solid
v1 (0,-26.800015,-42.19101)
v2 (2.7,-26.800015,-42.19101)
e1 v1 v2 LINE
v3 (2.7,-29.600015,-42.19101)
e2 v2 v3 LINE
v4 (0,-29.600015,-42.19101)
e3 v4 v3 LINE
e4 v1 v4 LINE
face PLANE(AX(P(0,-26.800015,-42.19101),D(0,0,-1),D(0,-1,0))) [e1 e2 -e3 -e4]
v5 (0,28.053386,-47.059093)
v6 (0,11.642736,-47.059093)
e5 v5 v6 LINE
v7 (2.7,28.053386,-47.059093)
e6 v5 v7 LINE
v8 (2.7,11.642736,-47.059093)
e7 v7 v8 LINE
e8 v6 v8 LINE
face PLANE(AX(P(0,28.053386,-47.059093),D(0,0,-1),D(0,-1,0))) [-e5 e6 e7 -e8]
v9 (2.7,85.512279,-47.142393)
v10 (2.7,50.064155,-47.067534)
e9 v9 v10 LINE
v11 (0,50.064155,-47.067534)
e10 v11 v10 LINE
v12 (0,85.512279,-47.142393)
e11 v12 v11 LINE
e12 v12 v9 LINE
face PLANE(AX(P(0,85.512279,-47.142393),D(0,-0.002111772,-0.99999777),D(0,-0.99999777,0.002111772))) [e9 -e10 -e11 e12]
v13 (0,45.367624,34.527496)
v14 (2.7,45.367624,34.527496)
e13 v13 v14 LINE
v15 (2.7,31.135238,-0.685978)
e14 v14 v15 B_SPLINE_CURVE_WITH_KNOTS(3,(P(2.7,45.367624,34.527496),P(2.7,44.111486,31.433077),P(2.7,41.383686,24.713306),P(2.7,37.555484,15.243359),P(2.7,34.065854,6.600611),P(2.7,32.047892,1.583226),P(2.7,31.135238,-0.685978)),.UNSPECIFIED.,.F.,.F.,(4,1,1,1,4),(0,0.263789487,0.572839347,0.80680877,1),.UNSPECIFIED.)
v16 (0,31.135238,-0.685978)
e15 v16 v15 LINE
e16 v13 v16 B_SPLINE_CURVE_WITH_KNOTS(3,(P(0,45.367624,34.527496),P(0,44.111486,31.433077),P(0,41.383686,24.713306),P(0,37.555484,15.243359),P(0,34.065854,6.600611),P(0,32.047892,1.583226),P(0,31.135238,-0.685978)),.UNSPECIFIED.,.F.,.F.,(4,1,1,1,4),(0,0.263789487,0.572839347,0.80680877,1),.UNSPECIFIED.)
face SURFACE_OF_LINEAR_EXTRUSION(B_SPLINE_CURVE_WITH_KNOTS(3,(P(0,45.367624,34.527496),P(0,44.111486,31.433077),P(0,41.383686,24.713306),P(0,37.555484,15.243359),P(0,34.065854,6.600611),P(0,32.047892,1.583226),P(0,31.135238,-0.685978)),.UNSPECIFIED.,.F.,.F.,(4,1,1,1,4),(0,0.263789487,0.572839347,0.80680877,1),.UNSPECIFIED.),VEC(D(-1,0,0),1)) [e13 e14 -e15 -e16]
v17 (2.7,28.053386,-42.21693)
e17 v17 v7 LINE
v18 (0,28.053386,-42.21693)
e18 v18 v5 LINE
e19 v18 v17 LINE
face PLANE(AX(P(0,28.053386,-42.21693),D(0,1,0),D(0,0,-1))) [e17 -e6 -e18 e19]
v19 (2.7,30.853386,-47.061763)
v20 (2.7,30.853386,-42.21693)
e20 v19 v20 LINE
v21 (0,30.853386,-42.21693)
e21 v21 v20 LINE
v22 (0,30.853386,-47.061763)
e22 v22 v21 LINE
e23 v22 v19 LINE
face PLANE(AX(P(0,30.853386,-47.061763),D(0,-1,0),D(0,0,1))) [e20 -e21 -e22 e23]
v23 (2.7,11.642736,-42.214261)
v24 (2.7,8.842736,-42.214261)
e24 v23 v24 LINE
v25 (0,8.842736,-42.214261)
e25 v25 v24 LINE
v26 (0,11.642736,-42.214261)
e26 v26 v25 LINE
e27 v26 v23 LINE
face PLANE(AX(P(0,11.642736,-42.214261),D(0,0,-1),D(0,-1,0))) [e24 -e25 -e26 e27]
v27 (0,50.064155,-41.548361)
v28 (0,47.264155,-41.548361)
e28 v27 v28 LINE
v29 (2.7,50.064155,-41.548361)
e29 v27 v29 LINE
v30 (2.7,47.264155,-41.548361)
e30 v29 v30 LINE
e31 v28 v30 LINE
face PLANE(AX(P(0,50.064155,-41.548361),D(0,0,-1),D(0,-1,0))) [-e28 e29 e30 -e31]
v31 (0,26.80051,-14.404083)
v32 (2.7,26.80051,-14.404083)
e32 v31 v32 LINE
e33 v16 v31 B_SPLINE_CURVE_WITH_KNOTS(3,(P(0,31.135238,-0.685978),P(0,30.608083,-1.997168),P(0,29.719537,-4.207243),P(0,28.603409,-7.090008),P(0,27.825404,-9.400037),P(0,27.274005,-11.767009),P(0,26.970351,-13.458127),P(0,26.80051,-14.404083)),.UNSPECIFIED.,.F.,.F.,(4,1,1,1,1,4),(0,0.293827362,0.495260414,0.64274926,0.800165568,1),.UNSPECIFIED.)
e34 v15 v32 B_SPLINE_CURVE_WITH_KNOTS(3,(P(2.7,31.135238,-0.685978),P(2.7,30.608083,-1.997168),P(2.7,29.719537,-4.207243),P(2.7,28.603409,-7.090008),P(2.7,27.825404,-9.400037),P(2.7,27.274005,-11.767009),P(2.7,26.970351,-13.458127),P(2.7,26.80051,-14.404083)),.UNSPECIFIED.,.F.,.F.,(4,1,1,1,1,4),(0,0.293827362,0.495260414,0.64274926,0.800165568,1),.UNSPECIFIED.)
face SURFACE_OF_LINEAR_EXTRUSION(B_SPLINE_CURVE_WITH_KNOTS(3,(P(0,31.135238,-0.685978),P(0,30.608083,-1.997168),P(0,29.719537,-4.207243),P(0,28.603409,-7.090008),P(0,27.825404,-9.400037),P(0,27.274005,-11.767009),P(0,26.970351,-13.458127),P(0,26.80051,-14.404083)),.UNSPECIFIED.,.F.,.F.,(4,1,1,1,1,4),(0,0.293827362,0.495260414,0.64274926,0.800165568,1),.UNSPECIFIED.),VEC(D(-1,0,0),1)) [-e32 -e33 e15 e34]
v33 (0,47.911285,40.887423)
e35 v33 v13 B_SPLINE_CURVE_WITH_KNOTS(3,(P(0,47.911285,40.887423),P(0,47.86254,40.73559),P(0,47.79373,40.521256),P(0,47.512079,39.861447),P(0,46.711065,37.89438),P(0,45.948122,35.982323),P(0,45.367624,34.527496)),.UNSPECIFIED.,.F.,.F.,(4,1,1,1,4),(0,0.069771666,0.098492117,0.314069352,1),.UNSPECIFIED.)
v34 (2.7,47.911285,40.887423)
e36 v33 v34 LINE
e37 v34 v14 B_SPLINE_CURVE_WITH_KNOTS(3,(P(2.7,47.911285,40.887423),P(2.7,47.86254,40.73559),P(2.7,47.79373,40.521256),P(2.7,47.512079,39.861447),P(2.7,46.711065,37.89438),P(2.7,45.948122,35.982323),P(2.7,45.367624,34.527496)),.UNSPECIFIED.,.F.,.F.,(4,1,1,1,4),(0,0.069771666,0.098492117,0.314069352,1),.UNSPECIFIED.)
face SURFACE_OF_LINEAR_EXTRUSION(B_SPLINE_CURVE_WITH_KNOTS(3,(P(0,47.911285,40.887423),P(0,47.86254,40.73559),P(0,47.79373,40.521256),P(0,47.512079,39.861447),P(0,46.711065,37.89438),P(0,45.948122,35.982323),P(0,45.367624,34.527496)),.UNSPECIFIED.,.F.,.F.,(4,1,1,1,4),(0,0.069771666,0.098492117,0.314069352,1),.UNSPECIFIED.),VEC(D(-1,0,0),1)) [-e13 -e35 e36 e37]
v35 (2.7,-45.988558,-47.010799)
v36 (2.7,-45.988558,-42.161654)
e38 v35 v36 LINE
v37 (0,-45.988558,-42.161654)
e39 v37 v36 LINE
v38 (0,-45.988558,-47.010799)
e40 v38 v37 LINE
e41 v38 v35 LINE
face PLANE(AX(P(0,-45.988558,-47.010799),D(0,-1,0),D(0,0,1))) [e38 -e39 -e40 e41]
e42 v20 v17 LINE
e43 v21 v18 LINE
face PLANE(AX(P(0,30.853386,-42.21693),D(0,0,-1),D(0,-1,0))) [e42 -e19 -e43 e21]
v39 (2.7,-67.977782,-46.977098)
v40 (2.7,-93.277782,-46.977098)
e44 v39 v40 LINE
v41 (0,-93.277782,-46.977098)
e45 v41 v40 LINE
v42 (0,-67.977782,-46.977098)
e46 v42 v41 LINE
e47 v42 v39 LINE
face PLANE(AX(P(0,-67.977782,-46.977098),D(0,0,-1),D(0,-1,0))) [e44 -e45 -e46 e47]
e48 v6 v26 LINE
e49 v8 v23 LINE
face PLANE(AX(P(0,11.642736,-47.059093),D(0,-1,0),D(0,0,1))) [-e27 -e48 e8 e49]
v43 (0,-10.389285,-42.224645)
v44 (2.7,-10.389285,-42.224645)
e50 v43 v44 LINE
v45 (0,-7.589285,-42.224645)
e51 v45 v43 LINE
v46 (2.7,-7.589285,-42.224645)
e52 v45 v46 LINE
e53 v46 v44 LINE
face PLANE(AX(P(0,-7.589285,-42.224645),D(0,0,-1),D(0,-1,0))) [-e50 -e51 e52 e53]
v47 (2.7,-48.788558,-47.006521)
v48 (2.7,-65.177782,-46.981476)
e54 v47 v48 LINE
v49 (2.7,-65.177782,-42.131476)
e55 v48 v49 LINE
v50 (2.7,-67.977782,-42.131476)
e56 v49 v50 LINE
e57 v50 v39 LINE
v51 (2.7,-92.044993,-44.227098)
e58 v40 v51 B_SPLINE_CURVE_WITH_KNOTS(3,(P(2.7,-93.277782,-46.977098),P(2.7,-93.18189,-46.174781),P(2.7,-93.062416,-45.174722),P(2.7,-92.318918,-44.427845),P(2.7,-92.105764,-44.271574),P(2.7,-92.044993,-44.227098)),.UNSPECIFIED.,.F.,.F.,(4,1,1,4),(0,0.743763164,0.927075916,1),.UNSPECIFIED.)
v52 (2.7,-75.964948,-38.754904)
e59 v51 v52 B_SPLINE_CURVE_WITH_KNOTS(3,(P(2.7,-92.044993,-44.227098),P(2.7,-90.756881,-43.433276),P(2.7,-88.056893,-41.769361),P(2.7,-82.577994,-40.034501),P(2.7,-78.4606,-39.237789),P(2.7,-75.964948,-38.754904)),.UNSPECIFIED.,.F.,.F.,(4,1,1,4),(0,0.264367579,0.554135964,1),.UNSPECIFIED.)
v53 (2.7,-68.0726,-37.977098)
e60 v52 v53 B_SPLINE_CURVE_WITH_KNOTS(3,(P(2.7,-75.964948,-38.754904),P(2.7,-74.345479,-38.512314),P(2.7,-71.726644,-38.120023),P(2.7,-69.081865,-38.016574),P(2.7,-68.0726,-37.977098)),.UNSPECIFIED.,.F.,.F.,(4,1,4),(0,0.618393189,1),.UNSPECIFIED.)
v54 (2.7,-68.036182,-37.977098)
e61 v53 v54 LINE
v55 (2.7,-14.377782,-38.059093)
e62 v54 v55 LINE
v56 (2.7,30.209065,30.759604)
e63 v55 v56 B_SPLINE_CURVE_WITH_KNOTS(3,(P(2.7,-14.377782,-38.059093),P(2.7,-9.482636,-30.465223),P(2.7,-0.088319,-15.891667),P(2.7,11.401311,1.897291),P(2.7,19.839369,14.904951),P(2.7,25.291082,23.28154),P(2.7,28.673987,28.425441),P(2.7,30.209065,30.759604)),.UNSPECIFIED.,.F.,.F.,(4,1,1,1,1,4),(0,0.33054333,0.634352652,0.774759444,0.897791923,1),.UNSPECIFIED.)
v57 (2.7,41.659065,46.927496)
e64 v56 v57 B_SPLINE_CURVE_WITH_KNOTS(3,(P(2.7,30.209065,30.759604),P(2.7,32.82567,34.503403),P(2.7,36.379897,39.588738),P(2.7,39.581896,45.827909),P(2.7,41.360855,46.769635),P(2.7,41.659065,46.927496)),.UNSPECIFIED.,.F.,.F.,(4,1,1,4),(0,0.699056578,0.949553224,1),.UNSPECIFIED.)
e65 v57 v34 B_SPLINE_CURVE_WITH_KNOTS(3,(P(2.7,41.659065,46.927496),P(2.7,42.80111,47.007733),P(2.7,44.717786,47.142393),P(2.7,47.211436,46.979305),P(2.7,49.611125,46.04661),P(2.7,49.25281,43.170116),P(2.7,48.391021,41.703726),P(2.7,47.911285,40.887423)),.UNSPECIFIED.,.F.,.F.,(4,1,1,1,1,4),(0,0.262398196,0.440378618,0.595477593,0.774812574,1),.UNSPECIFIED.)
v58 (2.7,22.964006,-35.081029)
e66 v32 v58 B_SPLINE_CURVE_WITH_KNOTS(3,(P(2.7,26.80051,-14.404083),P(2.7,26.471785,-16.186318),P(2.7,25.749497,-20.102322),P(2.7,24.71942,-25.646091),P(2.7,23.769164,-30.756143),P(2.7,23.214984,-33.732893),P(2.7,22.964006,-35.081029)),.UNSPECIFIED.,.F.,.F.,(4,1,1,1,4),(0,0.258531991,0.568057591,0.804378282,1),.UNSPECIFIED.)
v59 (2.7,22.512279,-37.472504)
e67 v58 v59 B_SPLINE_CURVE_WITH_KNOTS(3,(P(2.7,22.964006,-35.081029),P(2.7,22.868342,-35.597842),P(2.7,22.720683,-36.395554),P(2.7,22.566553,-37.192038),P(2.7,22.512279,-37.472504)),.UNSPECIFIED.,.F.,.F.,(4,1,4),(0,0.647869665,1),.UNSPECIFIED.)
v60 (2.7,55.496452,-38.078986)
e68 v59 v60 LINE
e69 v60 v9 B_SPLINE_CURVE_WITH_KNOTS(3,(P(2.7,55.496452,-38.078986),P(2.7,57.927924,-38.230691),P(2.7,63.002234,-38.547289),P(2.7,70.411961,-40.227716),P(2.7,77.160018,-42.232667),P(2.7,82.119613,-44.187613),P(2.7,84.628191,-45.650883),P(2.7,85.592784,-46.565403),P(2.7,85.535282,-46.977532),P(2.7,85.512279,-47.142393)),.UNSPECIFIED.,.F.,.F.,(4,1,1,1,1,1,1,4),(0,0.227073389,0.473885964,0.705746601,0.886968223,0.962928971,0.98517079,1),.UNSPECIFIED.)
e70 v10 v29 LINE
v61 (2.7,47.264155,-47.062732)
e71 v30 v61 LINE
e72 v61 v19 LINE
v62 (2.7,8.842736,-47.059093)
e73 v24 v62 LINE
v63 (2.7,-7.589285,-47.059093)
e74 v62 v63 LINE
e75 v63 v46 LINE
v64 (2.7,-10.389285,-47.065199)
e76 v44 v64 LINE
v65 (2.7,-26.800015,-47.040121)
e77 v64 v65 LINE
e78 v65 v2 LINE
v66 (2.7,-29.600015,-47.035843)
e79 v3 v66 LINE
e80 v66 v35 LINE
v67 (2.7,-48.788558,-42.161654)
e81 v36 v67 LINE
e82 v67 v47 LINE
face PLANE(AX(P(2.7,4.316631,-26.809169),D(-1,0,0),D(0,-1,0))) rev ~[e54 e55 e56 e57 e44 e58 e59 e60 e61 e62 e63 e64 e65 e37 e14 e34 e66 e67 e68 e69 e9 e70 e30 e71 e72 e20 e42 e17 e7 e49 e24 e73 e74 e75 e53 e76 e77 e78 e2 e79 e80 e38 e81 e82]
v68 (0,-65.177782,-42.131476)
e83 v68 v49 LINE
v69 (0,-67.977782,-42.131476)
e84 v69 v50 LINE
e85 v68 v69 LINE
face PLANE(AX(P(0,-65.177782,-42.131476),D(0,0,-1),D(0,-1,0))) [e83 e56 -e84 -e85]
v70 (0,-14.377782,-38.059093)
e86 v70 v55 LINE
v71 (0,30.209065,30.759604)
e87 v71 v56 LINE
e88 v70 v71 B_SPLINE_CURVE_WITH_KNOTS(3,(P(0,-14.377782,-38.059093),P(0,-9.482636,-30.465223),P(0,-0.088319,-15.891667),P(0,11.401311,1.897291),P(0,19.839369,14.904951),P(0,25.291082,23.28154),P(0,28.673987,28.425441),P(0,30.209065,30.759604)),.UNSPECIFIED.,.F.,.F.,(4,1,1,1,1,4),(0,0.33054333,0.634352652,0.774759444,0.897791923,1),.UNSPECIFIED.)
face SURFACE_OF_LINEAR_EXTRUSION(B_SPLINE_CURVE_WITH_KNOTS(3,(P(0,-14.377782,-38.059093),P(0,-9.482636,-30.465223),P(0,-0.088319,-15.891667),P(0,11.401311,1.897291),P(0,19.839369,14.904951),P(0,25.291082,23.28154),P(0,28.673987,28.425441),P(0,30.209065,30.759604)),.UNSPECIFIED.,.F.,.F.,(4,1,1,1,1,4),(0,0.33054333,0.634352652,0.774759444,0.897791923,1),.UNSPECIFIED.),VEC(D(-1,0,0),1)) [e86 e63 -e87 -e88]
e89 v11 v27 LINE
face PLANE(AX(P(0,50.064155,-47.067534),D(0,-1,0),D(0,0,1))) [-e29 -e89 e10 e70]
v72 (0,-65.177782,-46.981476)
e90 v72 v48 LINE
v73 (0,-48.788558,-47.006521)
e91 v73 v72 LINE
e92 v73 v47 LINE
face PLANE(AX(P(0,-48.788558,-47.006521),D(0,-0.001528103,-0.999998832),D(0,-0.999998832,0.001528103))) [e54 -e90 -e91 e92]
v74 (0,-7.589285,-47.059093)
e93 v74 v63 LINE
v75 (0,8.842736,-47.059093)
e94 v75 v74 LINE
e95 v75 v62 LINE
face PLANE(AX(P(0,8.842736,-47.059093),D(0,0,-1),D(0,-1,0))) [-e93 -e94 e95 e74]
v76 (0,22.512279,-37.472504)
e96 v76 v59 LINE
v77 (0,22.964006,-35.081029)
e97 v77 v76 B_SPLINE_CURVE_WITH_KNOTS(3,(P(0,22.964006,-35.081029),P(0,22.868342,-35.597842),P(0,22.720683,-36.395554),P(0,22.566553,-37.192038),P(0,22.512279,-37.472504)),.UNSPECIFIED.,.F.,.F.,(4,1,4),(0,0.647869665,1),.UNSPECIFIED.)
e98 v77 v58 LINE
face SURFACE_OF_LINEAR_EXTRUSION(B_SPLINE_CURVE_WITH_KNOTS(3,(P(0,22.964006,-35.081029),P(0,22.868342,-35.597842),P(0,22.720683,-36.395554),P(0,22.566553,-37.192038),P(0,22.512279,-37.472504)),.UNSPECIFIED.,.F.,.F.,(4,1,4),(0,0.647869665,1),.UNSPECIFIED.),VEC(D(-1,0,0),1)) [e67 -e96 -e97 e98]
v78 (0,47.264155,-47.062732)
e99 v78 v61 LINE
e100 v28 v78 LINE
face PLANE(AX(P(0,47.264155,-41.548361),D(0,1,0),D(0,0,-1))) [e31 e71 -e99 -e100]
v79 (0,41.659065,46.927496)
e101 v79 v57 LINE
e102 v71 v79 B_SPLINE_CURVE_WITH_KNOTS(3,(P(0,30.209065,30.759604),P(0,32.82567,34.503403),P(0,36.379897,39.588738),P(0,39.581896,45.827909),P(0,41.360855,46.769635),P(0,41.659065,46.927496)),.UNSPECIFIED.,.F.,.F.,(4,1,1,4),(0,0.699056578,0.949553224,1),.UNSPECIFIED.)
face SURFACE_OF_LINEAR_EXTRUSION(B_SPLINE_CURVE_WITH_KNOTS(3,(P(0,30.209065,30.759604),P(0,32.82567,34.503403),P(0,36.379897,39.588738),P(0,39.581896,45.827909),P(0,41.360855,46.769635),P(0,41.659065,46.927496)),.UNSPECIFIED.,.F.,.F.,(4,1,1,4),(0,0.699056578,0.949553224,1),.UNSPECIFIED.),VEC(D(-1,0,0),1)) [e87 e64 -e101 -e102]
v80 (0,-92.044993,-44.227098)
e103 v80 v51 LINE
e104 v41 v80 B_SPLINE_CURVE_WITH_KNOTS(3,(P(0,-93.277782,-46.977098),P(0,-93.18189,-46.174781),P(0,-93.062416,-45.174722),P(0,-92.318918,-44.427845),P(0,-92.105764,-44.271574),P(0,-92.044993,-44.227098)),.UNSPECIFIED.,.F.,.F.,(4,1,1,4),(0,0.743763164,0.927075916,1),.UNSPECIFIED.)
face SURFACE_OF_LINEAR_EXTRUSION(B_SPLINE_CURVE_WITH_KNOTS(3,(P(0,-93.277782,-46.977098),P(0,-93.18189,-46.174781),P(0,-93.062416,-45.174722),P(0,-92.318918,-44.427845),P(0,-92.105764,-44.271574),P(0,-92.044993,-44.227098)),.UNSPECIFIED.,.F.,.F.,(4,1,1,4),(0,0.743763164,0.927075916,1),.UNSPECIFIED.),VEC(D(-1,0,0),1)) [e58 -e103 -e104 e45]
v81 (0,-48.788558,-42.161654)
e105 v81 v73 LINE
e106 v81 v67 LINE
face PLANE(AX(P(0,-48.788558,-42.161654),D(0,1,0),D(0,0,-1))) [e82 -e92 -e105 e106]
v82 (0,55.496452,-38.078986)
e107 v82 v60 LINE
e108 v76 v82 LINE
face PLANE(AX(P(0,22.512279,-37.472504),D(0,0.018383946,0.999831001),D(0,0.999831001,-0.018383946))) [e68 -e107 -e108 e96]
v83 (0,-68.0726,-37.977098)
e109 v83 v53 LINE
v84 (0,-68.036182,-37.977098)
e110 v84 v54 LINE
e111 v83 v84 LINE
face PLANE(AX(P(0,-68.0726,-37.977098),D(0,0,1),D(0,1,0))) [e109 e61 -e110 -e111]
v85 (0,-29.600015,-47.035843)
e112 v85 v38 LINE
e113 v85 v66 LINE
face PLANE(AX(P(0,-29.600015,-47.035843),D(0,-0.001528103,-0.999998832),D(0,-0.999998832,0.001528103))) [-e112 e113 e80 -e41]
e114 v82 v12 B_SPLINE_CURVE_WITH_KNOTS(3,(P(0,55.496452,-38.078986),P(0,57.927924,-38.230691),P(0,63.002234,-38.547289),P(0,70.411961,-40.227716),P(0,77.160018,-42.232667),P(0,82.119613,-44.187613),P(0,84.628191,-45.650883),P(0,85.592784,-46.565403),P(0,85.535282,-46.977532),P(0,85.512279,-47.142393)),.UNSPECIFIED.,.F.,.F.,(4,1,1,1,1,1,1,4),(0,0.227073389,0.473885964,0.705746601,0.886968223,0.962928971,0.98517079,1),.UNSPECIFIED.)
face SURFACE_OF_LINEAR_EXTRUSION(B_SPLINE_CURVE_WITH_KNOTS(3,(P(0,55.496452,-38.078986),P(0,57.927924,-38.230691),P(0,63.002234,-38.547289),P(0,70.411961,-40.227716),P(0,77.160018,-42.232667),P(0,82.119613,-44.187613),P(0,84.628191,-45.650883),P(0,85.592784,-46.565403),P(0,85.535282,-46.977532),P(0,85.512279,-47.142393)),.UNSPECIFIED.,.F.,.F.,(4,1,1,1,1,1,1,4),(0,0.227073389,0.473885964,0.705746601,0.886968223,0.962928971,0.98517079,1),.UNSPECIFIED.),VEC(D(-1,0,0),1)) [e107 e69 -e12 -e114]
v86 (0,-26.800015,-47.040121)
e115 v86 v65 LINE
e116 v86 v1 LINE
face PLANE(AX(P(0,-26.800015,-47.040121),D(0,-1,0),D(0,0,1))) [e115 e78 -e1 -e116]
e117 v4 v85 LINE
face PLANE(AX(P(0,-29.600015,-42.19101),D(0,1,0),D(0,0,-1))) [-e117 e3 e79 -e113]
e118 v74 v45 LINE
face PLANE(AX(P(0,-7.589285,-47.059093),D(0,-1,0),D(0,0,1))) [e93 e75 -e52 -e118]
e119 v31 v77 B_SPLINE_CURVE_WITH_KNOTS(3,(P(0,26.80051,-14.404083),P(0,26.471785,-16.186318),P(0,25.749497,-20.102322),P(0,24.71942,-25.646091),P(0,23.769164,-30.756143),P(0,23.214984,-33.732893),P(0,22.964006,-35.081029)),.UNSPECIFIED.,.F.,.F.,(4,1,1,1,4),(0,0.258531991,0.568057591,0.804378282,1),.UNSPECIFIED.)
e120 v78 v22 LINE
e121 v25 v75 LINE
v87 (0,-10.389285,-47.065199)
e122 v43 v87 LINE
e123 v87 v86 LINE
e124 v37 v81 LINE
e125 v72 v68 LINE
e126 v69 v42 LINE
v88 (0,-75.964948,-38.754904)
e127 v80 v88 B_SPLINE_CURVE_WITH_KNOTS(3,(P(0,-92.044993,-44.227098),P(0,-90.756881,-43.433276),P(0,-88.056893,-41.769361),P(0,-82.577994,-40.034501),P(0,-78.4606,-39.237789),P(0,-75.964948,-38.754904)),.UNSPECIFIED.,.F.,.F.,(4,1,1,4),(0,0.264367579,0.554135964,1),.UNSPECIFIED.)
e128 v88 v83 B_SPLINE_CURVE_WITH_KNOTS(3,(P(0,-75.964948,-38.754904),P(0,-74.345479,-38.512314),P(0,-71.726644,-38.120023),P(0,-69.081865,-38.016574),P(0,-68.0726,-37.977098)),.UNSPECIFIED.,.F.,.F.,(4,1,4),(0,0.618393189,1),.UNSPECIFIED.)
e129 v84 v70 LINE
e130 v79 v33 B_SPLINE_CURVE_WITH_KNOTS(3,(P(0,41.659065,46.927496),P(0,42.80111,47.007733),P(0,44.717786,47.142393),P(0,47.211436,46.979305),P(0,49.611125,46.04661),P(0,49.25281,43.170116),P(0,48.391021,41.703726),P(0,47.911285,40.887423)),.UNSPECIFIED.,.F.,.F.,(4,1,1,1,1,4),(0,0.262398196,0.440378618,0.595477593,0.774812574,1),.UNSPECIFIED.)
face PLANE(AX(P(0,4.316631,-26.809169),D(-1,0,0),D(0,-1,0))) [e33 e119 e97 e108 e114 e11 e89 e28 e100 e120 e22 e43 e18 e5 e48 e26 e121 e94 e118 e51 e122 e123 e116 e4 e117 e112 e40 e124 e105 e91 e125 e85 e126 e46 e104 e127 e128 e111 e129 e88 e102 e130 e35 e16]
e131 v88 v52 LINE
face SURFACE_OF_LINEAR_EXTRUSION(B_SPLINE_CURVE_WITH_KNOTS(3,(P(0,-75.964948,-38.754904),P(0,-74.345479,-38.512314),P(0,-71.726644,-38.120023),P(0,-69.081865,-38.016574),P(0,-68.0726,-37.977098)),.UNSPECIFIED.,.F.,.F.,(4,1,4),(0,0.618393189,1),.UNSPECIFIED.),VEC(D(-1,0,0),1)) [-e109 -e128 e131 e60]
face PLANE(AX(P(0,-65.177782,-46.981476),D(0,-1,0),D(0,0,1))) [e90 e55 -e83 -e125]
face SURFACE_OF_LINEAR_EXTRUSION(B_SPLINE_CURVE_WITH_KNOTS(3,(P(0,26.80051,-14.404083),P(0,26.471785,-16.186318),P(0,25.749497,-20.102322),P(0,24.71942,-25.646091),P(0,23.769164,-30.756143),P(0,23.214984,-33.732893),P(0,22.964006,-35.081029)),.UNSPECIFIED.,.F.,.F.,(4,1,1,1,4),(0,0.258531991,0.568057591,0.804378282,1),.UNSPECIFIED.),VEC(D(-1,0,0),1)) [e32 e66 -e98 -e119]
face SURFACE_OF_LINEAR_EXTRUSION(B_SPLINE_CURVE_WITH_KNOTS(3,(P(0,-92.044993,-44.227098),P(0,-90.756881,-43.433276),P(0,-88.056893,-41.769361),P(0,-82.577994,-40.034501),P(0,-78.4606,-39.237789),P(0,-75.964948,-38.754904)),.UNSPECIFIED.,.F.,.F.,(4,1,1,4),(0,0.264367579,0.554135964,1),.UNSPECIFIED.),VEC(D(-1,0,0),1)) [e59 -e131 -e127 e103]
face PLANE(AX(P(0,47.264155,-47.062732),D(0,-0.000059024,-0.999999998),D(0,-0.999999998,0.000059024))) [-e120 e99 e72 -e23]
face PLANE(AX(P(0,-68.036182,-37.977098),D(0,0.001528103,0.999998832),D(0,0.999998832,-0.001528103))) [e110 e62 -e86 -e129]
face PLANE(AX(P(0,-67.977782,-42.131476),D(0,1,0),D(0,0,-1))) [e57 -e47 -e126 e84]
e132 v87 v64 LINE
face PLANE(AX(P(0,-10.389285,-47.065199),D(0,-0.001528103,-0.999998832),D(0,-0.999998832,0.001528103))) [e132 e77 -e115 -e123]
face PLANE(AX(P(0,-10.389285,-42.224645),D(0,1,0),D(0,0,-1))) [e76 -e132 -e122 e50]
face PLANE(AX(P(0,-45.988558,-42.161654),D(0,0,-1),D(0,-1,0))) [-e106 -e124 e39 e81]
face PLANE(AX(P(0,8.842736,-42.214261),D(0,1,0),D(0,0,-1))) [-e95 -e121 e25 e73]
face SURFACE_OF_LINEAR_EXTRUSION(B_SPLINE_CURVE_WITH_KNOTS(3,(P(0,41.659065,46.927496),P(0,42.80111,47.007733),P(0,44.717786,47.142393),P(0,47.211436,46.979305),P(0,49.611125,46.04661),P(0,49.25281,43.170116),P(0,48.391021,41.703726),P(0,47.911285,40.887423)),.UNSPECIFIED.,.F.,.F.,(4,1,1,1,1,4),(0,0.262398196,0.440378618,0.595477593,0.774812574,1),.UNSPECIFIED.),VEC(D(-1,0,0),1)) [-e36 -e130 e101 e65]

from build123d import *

# Parameters (mm, degrees)
SALIENTE_EXTRUIR1_DEPTH = 2.7


with BuildPart() as part:
    # Croquis1 → Saliente-Extruir1 (new body)
    with BuildSketch(Plane.YZ):
        with BuildLine():
            Line((50.064155465, -47.067534137), (50.064155465, -41.548360968))
            Line((50.064155465, -41.548360968), (47.264155465, -41.548360968))
            Line((47.264155465, -41.548360968), (47.264155465, -47.062731671))
            Line((47.264155465, -47.062731671), (30.853386223, -47.061763035))
            Line((30.853386223, -47.061763035), (30.853386223, -42.21693048))
            Line((30.853386223, -42.21693048), (28.053386223, -42.21693048))
            Line((28.053386223, -42.21693048), (28.053386223, -47.059093276))
            Line((28.053386223, -47.059093276), (11.642735672, -47.059093276))
            Line((11.642735672, -47.059093276), (11.642735672, -42.214260722))
            Line((11.642735672, -42.214260722), (8.842735672, -42.214260722))
            Line((8.842735672, -42.214260722), (8.842735672, -47.059093276))
            Line((8.842735672, -47.059093276), (-7.589284622, -47.059093276))
            Line((-7.589284622, -47.059093276), (-7.589284622, -42.224644755))
            Line((-7.589284622, -42.224644755), (-10.389284622, -42.224644755))
            Line((-10.389284622, -42.224644755), (-10.389284622, -47.065198628))
            Line((-10.389284622, -47.065198628), (-26.800014758, -47.040121306))
            Line((-26.800014758, -47.040121306), (-26.800014758, -42.191010057))
            Line((-26.800014758, -42.191010057), (-29.600014758, -42.191010057))
            Line((-29.600014758, -42.191010057), (-29.600014758, -47.035842611))
            Line((-29.600014758, -47.035842611), (-45.988557712, -47.010799194))
            Line((-45.988557712, -47.010799194), (-45.988557712, -42.161654196))
            Line((-45.988557712, -42.161654196), (-48.788557712, -42.161654196))
            Line((-48.788557712, -42.161654196), (-48.788557712, -47.0065205))
            Line((-48.788557712, -47.0065205), (-65.177781836, -46.981476041))
            Line((-65.177781836, -46.981476041), (-65.177781836, -42.131476041))
            Line((-65.177781836, -42.131476041), (-67.977781836, -42.131476041))
            Line((-67.977781836, -42.131476041), (-67.977781836, -46.977097597))
            Line((-67.977781836, -46.977097597), (-93.277781836, -46.977097597))
            add(Edge.make_bspline(
                [(-93.277781836, -46.977097597), (-93.18189011, -46.174781474), (-93.062415858, -45.1747221), (-92.318917636, -44.427844981), (-92.105764404, -44.271573649), (-92.0449928, -44.227097597)],
                knots=[0, 0, 0, 0, 0.743763164, 0.927075916, 1, 1, 1, 1], degree=3))
            add(Edge.make_bspline(
                [(-92.0449928, -44.227097597), (-90.756880888, -43.433276038), (-88.056893467, -41.769361434), (-82.577993979, -40.034501162), (-78.460600187, -39.237788639), (-75.964948435, -38.754904184)],
                knots=[0, 0, 0, 0, 0.264367579, 0.554135964, 1, 1, 1, 1], degree=3))
            add(Edge.make_bspline(
                [(-75.964948435, -38.754904184), (-74.34547887, -38.512314185), (-71.726644132, -38.12002332), (-69.081865258, -38.016574407), (-68.072599626, -37.977097597)],
                knots=[0, 0, 0, 0, 0.618393189, 1, 1, 1, 1], degree=3))
            Line((-68.072599626, -37.977097597), (-68.036182291, -37.977097597))
            Line((-68.036182291, -37.977097597), (-14.377781836, -38.059093276))
            add(Edge.make_bspline(
                [(-14.377781836, -38.059093276), (-9.48263554, -30.465223104), (-0.088318644, -15.891667241), (11.40131096, 1.897290918), (19.839368531, 14.904950582), (25.291082064, 23.281540451), (28.673986537, 28.425441102), (30.209064616, 30.759604208)],
                knots=[0, 0, 0, 0, 0.33054333, 0.634352652, 0.774759444, 0.897791923, 1, 1, 1, 1], degree=3))
            add(Edge.make_bspline(
                [(30.209064616, 30.759604208), (32.825669768, 34.503403378), (36.379896904, 39.588737934), (39.581896311, 45.827909193), (41.360854644, 46.769635372), (41.659064616, 46.927495864)],
                knots=[0, 0, 0, 0, 0.699056578, 0.949553224, 1, 1, 1, 1], degree=3))
            add(Edge.make_bspline(
                [(41.659064616, 46.927495864), (42.801110062, 47.007732625), (44.717786332, 47.142392673), (47.211435726, 46.979305401), (49.611125337, 46.046610037), (49.252809931, 43.170115935), (48.39102063, 41.703725793), (47.911284937, 40.887423293)],
                knots=[0, 0, 0, 0, 0.262398196, 0.440378618, 0.595477593, 0.774812574, 1, 1, 1, 1], degree=3))
            add(Edge.make_bspline(
                [(47.911284937, 40.887423293), (47.862540118, 40.735589847), (47.793730232, 40.52125646), (47.512079427, 39.861446577), (46.711064578, 37.894379756), (45.948121655, 35.982323112), (45.367624024, 34.527495864)],
                knots=[0, 0, 0, 0, 0.069771666, 0.098492117, 0.314069352, 1, 1, 1, 1], degree=3))
            add(Edge.make_bspline(
                [(45.367624024, 34.527495864), (44.111486236, 31.433076876), (41.38368553, 24.713305857), (37.555483502, 15.243358948), (34.065854034, 6.600610588), (32.047891551, 1.58322579), (31.135238415, -0.685978386)],
                knots=[0, 0, 0, 0, 0.263789487, 0.572839347, 0.80680877, 1, 1, 1, 1], degree=3))
            add(Edge.make_bspline(
                [(31.135238415, -0.685978386), (30.608083206, -1.997168161), (29.719537274, -4.207242768), (28.603409167, -7.0900084), (27.825404021, -9.400037124), (27.274005048, -11.767009415), (26.97035134, -13.458127119), (26.800509876, -14.404083303)],
                knots=[0, 0, 0, 0, 0.293827362, 0.495260414, 0.64274926, 0.800165568, 1, 1, 1, 1], degree=3))
            add(Edge.make_bspline(
                [(26.800509876, -14.404083303), (26.471785049, -16.186318296), (25.749496747, -20.102321536), (24.719420371, -25.646090651), (23.769164139, -30.756143455), (23.214984213, -33.732893289), (22.9640056, -35.081028837)],
                knots=[0, 0, 0, 0, 0.258531991, 0.568057591, 0.804378282, 1, 1, 1, 1], degree=3))
            add(Edge.make_bspline(
                [(22.9640056, -35.081028837), (22.868341833, -35.597842053), (22.720682865, -36.395553759), (22.566553172, -37.192037906), (22.512279431, -37.472504136)],
                knots=[0, 0, 0, 0, 0.647869665, 1, 1, 1, 1], degree=3))
            Line((22.512279431, -37.472504136), (55.496451659, -38.078985867))
            add(Edge.make_bspline(
                [(55.496451659, -38.078985867), (57.927924447, -38.23069105), (63.002233618, -38.547288944), (70.411961322, -40.227716027), (77.16001838, -42.232666736), (82.119612572, -44.187612736), (84.628190587, -45.650882843), (85.592784128, -46.565402982), (85.535281658, -46.977532137), (85.512279431, -47.142392673)],
                knots=[0, 0, 0, 0, 0.227073389, 0.473885964, 0.705746601, 0.886968223, 0.962928971, 0.98517079, 1, 1, 1, 1], degree=3))
            Line((85.512279431, -47.142392673), (50.064155465, -47.067534137))
        make_face()
    extrude(amount=SALIENTE_EXTRUIR1_DEPTH)


solid = part.part
